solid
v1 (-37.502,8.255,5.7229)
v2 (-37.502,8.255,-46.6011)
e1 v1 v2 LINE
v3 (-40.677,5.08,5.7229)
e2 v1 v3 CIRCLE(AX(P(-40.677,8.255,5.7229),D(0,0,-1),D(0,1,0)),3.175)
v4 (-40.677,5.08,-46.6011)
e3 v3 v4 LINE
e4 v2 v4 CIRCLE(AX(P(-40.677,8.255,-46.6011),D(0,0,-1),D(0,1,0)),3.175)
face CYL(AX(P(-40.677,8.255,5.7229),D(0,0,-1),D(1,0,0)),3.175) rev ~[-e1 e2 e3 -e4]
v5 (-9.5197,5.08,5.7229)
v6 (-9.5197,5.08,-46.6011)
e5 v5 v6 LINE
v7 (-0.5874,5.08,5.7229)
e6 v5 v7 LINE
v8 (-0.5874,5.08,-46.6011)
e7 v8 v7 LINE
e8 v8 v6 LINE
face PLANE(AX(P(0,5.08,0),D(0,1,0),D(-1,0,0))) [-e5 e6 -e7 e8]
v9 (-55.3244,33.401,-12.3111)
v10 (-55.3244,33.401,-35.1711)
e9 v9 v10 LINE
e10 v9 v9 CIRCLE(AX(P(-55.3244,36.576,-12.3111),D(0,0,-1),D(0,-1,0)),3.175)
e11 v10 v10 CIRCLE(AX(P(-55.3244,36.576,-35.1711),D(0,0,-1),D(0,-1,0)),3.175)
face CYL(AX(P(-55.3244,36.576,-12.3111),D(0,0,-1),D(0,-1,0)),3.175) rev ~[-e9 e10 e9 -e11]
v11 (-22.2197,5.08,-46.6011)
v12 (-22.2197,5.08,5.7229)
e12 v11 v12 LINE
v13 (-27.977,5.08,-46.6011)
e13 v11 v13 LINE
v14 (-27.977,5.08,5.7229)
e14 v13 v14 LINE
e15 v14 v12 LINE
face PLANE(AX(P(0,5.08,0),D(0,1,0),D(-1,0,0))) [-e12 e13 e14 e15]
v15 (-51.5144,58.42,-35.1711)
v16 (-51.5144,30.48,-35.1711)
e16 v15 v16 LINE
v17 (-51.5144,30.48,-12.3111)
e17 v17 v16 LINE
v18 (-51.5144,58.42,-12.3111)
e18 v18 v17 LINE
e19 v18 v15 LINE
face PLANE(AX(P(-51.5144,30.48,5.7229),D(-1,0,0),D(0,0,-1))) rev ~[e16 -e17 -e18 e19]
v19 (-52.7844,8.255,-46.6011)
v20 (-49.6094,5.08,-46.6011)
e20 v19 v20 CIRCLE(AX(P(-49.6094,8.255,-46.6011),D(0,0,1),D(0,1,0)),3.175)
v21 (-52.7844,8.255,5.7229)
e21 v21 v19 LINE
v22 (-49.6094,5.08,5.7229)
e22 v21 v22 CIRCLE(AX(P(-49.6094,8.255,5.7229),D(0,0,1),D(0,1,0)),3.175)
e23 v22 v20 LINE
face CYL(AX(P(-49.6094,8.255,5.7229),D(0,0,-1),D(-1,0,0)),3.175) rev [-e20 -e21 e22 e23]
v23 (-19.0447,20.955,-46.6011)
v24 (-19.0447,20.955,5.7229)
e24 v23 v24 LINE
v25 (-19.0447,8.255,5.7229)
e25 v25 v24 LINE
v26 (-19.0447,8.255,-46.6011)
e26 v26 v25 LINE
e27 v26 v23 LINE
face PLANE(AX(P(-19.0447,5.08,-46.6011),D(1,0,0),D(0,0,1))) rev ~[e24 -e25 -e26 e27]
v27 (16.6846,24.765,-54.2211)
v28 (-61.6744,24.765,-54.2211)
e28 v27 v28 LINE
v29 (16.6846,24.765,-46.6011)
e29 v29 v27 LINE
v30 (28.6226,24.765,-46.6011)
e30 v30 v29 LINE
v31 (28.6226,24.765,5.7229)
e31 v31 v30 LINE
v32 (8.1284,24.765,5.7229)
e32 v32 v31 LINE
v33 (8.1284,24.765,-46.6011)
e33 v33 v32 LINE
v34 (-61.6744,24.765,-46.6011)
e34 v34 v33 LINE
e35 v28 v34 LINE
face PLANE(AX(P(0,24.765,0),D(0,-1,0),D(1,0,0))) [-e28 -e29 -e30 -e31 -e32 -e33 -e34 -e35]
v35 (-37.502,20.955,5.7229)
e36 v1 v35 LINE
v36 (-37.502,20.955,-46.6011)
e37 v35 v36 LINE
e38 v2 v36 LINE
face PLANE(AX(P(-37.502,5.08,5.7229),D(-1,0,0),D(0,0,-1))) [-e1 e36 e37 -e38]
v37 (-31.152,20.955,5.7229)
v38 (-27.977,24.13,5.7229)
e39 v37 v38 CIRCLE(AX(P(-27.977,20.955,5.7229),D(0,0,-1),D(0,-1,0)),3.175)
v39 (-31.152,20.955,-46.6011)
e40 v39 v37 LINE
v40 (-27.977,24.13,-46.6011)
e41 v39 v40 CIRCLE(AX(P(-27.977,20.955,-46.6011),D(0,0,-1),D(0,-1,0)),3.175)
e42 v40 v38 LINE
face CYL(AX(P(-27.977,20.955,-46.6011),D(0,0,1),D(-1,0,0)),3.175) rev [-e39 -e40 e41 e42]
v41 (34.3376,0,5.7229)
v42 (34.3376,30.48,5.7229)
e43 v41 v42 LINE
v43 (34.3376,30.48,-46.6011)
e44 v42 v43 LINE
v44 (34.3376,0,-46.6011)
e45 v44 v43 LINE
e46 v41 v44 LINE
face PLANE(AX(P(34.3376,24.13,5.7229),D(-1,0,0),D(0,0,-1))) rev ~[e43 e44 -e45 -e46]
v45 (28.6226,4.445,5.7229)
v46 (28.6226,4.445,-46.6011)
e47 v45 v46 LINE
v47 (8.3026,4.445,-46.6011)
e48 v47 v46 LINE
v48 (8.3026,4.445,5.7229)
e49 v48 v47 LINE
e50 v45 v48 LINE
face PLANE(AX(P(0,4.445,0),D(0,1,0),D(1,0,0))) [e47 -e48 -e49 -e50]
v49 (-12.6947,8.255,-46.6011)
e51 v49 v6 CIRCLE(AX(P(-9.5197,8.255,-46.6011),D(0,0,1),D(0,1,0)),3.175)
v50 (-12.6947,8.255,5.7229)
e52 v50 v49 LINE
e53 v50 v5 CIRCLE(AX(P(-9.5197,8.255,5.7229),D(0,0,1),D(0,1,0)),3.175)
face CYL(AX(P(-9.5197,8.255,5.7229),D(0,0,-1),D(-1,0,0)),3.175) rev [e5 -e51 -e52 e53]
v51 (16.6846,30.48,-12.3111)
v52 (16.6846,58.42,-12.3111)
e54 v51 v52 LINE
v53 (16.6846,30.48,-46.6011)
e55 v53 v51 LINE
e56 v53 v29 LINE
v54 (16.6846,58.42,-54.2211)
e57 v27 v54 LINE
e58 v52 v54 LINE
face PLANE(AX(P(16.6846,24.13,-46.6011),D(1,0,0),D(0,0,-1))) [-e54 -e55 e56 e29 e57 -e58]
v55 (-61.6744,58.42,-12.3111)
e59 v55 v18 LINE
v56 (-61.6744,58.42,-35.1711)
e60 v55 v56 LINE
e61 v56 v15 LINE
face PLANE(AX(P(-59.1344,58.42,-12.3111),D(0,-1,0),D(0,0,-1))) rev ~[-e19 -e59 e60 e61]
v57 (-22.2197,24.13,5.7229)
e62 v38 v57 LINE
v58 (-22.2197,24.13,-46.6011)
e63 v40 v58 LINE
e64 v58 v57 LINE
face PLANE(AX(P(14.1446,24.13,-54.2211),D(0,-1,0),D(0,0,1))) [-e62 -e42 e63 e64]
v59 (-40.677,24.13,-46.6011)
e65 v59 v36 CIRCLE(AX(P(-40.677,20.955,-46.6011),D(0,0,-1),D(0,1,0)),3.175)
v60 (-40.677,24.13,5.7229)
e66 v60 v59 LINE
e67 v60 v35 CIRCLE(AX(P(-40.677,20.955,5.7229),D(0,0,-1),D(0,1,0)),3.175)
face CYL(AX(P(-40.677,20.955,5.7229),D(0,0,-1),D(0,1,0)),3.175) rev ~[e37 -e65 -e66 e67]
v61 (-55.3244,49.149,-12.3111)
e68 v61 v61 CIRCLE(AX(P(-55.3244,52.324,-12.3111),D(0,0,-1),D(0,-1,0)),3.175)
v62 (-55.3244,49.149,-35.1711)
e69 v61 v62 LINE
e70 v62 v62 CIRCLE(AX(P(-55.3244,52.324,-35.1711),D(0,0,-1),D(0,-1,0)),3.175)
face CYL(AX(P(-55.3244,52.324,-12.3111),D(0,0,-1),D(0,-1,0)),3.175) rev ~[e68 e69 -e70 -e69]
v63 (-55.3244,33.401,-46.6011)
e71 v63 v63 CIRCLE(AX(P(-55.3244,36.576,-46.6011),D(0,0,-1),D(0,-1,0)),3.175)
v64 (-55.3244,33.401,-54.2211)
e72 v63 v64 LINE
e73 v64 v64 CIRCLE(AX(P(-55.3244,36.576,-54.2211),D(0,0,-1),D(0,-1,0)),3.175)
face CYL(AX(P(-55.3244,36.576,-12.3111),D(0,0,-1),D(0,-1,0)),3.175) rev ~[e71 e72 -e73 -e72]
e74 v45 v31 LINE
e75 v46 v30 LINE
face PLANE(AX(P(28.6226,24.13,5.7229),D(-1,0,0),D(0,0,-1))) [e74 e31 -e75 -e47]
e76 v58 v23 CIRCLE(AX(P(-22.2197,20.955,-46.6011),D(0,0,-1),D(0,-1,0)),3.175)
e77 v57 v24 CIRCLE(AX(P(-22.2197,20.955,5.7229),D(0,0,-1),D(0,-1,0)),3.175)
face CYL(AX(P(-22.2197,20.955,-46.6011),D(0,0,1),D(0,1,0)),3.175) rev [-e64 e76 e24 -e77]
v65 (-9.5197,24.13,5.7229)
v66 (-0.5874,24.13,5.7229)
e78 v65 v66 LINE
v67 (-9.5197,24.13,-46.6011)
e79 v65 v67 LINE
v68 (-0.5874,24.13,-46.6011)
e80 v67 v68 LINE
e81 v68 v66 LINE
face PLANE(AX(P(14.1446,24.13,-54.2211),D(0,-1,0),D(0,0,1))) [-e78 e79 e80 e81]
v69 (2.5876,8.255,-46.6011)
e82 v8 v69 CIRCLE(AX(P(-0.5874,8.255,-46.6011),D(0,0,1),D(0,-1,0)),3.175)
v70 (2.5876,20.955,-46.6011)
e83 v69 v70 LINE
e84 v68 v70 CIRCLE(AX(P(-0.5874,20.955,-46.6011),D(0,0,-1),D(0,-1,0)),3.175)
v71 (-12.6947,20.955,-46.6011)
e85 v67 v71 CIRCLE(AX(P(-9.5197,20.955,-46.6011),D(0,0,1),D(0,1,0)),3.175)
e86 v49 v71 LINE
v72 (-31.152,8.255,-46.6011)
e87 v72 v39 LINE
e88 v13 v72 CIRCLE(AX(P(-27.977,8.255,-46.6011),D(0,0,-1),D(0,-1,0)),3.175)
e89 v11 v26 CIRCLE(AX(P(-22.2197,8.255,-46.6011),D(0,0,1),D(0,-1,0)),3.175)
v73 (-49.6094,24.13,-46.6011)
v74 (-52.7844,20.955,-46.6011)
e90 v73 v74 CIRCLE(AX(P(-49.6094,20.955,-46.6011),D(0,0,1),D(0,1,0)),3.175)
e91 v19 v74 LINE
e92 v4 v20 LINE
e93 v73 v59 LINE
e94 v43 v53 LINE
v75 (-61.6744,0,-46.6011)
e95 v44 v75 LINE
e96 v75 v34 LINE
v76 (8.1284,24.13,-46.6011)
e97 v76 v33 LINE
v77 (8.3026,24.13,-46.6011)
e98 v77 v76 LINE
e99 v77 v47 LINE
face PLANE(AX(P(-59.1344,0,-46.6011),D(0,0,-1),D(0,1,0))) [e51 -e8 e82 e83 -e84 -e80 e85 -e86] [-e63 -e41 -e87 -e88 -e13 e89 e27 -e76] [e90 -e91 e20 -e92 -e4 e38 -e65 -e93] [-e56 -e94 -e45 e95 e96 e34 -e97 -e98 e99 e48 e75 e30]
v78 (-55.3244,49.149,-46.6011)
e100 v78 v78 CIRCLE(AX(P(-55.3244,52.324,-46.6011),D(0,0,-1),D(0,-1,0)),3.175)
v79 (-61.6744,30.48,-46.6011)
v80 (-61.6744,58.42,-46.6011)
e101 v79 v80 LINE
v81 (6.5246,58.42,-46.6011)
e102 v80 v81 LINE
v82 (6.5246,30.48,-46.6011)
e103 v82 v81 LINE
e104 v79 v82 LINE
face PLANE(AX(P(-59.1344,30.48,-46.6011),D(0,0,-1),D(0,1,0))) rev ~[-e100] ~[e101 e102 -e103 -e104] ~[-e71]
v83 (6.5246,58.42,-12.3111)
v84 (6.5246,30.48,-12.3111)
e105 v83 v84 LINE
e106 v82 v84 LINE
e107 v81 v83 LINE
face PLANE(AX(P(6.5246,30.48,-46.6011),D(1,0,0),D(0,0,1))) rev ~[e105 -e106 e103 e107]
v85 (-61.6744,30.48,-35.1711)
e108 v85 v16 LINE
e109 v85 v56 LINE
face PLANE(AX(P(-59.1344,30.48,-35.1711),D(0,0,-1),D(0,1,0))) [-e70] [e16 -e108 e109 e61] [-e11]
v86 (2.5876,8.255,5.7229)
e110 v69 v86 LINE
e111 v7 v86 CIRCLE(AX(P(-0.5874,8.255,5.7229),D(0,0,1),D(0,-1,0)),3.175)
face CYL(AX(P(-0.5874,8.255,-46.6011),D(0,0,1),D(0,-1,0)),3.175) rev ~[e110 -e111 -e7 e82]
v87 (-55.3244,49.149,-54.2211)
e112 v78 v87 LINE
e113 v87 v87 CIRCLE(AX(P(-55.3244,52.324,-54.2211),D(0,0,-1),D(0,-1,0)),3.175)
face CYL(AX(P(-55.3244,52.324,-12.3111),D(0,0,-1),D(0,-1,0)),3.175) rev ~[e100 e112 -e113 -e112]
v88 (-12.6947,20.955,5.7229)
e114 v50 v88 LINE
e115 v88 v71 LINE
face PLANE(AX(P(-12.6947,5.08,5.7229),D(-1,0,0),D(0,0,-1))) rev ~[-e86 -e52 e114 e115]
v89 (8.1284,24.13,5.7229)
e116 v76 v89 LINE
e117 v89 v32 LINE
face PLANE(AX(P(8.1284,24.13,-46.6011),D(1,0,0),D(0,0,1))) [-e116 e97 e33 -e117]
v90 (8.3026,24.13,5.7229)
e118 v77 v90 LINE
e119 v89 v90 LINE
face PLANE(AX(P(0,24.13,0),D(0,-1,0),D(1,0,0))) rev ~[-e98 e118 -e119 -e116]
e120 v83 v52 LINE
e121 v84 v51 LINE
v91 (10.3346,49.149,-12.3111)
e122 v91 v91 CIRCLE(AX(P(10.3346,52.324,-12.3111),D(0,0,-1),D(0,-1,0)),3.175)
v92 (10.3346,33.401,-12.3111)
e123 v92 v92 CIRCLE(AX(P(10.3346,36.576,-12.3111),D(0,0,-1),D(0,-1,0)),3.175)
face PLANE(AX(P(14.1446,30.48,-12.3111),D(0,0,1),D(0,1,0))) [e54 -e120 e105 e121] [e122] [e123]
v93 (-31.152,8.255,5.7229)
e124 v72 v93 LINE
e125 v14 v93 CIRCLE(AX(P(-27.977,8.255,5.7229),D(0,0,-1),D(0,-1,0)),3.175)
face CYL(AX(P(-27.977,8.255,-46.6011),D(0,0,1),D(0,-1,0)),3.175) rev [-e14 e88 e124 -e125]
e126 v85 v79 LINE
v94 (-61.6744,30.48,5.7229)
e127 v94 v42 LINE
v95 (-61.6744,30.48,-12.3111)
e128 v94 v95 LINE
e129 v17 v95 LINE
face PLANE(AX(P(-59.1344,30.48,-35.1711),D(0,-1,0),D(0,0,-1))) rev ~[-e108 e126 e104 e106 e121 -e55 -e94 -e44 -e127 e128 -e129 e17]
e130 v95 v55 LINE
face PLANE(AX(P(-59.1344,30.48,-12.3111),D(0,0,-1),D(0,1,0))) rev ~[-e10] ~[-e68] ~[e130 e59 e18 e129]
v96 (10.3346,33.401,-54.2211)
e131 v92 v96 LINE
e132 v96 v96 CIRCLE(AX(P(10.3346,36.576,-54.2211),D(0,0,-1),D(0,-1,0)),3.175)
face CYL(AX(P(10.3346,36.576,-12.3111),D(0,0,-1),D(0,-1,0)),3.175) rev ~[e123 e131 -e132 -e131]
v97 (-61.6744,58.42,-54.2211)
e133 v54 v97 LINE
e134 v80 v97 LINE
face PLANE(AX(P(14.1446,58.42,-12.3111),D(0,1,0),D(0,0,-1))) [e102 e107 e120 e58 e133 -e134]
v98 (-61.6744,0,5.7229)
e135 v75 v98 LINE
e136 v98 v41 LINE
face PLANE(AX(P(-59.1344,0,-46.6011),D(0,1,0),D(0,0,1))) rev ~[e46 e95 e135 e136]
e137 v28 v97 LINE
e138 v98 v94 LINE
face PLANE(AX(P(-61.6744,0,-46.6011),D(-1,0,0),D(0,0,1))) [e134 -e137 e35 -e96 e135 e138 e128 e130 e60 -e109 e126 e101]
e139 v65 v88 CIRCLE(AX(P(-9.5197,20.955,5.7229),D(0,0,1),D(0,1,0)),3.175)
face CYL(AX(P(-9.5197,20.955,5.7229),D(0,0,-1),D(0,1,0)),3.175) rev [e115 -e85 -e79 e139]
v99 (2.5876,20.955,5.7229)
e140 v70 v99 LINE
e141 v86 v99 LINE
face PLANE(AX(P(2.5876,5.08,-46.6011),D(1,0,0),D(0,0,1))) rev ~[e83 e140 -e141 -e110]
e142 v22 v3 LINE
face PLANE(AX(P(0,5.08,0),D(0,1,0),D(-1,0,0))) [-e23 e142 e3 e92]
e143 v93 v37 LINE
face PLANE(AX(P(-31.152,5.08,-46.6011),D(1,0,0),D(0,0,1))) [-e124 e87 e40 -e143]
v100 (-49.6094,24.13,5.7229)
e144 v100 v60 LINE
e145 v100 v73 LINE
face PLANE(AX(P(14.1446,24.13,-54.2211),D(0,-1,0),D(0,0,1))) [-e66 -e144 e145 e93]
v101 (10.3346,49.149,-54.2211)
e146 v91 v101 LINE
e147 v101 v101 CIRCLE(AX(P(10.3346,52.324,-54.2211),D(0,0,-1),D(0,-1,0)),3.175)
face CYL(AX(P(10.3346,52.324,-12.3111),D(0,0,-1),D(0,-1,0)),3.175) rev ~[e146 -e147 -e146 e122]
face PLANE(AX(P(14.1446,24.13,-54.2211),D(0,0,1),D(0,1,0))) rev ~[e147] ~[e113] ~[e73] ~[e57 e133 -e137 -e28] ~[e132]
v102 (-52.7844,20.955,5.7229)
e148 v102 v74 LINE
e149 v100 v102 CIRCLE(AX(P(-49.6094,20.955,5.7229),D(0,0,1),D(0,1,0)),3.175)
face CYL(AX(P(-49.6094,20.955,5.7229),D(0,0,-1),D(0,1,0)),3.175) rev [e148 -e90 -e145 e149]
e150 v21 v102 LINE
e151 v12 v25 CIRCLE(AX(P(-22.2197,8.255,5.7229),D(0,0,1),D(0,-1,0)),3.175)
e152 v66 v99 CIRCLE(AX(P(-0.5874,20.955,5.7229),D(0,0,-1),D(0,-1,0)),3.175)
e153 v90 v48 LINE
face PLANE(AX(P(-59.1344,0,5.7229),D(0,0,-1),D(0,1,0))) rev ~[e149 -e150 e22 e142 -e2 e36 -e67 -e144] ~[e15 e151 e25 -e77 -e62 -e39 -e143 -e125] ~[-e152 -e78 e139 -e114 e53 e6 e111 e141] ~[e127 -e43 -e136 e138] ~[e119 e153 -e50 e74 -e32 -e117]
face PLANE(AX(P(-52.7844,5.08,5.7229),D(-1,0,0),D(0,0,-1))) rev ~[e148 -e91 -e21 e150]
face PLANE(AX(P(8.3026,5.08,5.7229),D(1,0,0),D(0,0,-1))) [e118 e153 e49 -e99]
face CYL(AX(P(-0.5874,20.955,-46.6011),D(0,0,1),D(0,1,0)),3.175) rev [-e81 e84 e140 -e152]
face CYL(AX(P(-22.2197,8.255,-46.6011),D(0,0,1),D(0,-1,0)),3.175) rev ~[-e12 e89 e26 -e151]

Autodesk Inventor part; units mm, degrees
ref_plane "YZ Plane" through (0, 0, 0) normal (1, 0, 0) x (0, 1, 0)
ref_plane "XZ Plane" through (0, 0, 0) normal (0, 1, 0) x (-1, 0, 0)
ref_plane "XY Plane" through (0, 0, 0) normal (0, 0, 1) x (1, 0, 0)
sketch "Sketch1" plane through (0, 0, 0) normal (0, 1, 0) x (-1, 0, 0)
  line L0 (59.1344, 5.7229) -> (-34.3376, 5.7229)
  line L1 (-34.3376, 5.7229) -> (-34.3376, -46.6011)
  line L2 (-34.3376, -46.6011) -> (59.1344, -46.6011)
  line L3 (59.1344, -46.6011) -> (59.1344, 5.7229)
  point P0 (0, 0)
  dimension "d0" = 52.324
  dimension "d1" = 93.472
extrude "Extrusion1" add sketch "Sketch1" along normal blind 5.08
sketch "Sketch2" plane through (0, 5.08, 0) normal (0, 1, 0) x (1, 0, 0)
  line L0 (34.3376, -5.7229) -> (34.3376, 46.6011) projected
  line L1 (-59.1344, -5.7229) -> (34.3376, -5.7229) projected
  line L2 (34.3376, 46.6011) -> (27.9876, 46.6011)
  line L3 (27.9876, 46.6011) -> (27.9876, -5.7229)
  line L4 (27.9876, -5.7229) -> (34.3376, -5.7229)
  line L5 (34.3376, -5.7229) -> (34.3376, 46.6011)
  line L6 (8.9376, 46.6011) -> (2.5876, 46.6011)
  line L7 (2.5876, 46.6011) -> (2.5876, -5.7229)
  line L8 (2.5876, -5.7229) -> (8.9376, -5.7229)
  line L9 (8.9376, -5.7229) -> (8.9376, 46.6011)
  line L10 (34.3376, 46.6011) -> (-59.1344, 46.6011) projected
  line L11 (-59.1344, 46.6011) -> (-59.1344, -5.7229) projected
  line L12 (-52.7844, 46.6011) -> (-59.1344, 46.6011)
  line L13 (-59.1344, 46.6011) -> (-59.1344, -5.7229)
  line L14 (-59.1344, -5.7229) -> (-52.7844, -5.7229)
  line L15 (-52.7844, -5.7229) -> (-52.7844, 46.6011)
  point P0 (0, 0)
  dimension "d4" = 6.35
  dimension "d5" = 19.05
  dimension "d6" = 6.35
  dimension "d7" = 6.35
extrude "Extrusion2" add sketch "Sketch2" along normal blind 19.05 contours L1 L3 L2 L0 | L1 L7 L6 L9 | L1 L11 L10 L15
sketch "Sketch3" plane through (0, 24.13, 0) normal (0, 1, 0) x (1, 0, 0)
  line L0 (34.3376, -5.7229) -> (34.3376, 46.6011) projected
  line L1 (-59.1344, 46.6011) -> (-59.1344, -5.7229) projected
  line L2 (34.3376, 46.6011) -> (-59.1344, 46.6011)
  line L3 (-59.1344, 46.6011) -> (-59.1344, -5.7229)
  line L4 (-59.1344, -5.7229) -> (34.3376, -5.7229)
  line L5 (34.3376, -5.7229) -> (34.3376, 46.6011)
  point P0 (0, 0)
extrude "Extrusion3" add sketch "Sketch3" along normal blind 6.35
sketch "Sketch4" plane through (0, 30.48, 0) normal (0, 1, 0) x (1, 0, 0)
  point P0 (0, 0)
sketch "Sketch5" plane through (0, 30.48, 0) normal (0, 1, 0) x (1, 0, 0)
  line L0 (-59.1344, -5.7229) -> (34.3376, -5.7229) projected
  line L1 (-59.1344, -5.7229) -> (-51.5144, -5.7229)
  line L2 (-51.5144, -5.7229) -> (-51.5144, 46.6011)
  line L3 (-51.5144, 46.6011) -> (-59.1344, 46.6011)
  line L4 (-59.1344, 46.6011) -> (-59.1344, -5.7229)
  line L5 (-52.7844, -5.7229) -> (2.5876, -5.7229) projected
  line L6 (6.5246, -5.7229) -> (14.1446, -5.7229)
  line L7 (14.1446, -5.7229) -> (14.1446, 46.6011)
  line L8 (14.1446, 46.6011) -> (6.5246, 46.6011)
  line L9 (6.5246, 46.6011) -> (6.5246, -5.7229)
  point P0 (0, 0)
  dimension "d12" = 7.62
  dimension "d13" = 7.62
  dimension "d14" = 58.039
extrude "Extrusion4" add sketch "Sketch5" along normal blind 27.94
sketch "Sketch6" plane through (0, 58.42, 0) normal (0, 1, 0) x (1, 0, 0)
  point P0 (0, 0)
sketch "Sketch7" plane through (0, 58.42, 0) normal (0, 1, 0) x (1, 0, 0)
  line L0 (-59.1344, -5.7229) -> (-51.5144, -5.7229) projected
  line L1 (-51.5144, -5.7229) -> (-51.5144, 46.6011) projected
  line L2 (-59.1344, -5.7229) -> (-51.5144, -5.7229)
  line L3 (-51.5144, -5.7229) -> (-51.5144, 12.3111)
  line L4 (-51.5144, 12.3111) -> (-59.1344, 12.3111)
  line L5 (-59.1344, 12.3111) -> (-59.1344, -5.7229)
  line L6 (6.5246, -5.7229) -> (6.5246, 46.6011) projected
  line L7 (14.1446, -5.7229) -> (14.1446, 46.6011) projected
  line L8 (6.5246, -5.7229) -> (14.1446, -5.7229)
  line L9 (14.1446, -5.7229) -> (14.1446, 12.3111)
  line L10 (14.1446, 12.3111) -> (6.5246, 12.3111)
  line L11 (6.5246, 12.3111) -> (6.5246, -5.7229)
  point P0 (0, 0)
  dimension "d17" = 18.034
extrude "Extrusion5" cut sketch "Sketch7" against normal blind 27.94
sketch "Sketch8" plane through (0, 58.42, 0) normal (0, 1, 0) x (1, 0, 0)
  line L0 (34.3376, 46.6011) -> (-59.1344, 46.6011) projected
  line L1 (-51.5144, 46.6011) -> (-51.5144, 12.3111) projected
  line L2 (-59.1344, 46.6011) -> (-51.5144, 46.6011)
  line L3 (-51.5144, 46.6011) -> (-51.5144, 35.1711)
  line L4 (-51.5144, 35.1711) -> (-59.1344, 35.1711)
  line L5 (-59.1344, 35.1711) -> (-59.1344, 46.6011)
  point P0 (0, 0)
  dimension "d20" = 11.43
extrude "Extrusion6" cut sketch "Sketch8" against normal blind 27.94
sketch "Sketch9" plane through (34.3376, 0, -46.6011) normal (0, 0, -1) x (-1, 0, 0)
  line L0 (93.472, 30.48) -> (0, 30.48) projected
  line L1 (27.813, 30.48) -> (20.193, 30.48) projected
  line L2 (93.472, 30.48) -> (20.193, 30.48)
  line L3 (20.193, 30.48) -> (20.193, 24.13)
  line L4 (6.35, 24.13) -> (25.4, 24.13) projected
  line L5 (31.75, 24.13) -> (87.122, 24.13) projected
  line L6 (25.4, 24.13) -> (31.75, 24.13)
  line L7 (87.122, 5.08) -> (87.122, 24.13) projected
  line L8 (31.75, 24.13) -> (87.122, 24.13)
  line L9 (93.472, 0) -> (93.472, 30.48) projected
  line L10 (87.122, 24.13) -> (93.472, 24.13)
  point P0 (34.3376, 0)
extrude "Extrusion7" add sketch "Sketch9" along normal blind 7.62
sketch "Sketch10" plane through (0, 30.48, 0) normal (0, 1, 0) x (1, 0, 0)
  line L0 (14.1446, 46.6011) -> (14.1446, 54.2211) projected
  line L1 (-59.1344, 54.2211) -> (14.1446, 54.2211) projected
  line L2 (14.1446, 46.6011) -> (-59.1344, 46.6011)
  line L3 (-59.1344, 46.6011) -> (-59.1344, 54.2211)
  line L4 (-59.1344, 54.2211) -> (14.1446, 54.2211)
  line L5 (14.1446, 54.2211) -> (14.1446, 46.6011)
  point P0 (0, 0)
extrude "Extrusion8" add sketch "Sketch10" along normal blind 27.94
fillet "Fillet1" radius 3.175 4 edges at (2.5876, 5.08, -20.4391) (-52.7844, 5.08, -20.4391) (2.5876, 24.13, -20.4391) (-52.7844, 24.13, -20.4391)
sketch "Sketch11" plane through (-59.1344, 58.42, -12.3111) normal (0, 0, 1) x (1, 0, 0)
  point P0 (59.1344, -58.42)
sketch "Sketch12" plane through (-59.1344, 58.42, -12.3111) normal (0, 0, 1) x (1, 0, 0)
  circle A0 centre (3.81, -6.096) radius 2.54
  line L0 (0, 0) -> (7.62, 0) projected
  line L1 (0, -27.94) -> (0, 0) projected
  circle A1 centre (3.81, -21.844) radius 2.54
  line L2 (0, -27.94) -> (7.62, -27.94) projected
  circle A2 centre (69.469, -6.096) radius 2.54
  line L3 (65.659, 0) -> (73.279, 0) projected
  line L4 (73.279, 0) -> (73.279, -27.94) projected
  circle A3 centre (69.469, -21.844) radius 2.54
  line L5 (0, -27.94) -> (93.472, -27.94) projected
  point P0 (59.1344, -58.42)
  dimension "d29" = 6.096
  dimension "d30" = 3.81
  dimension "d31" = 5.08
  dimension "d32" = 5.08
  dimension "d33" = 3.81
  dimension "d34" = 6.096
  dimension "d35" = 5.08
  dimension "d36" = 6.096
  dimension "d37" = 3.81
  dimension "d38" = 5.08
  dimension "d39" = 3.81
  dimension "d40" = 6.096
hole "Hole1" at (-55.3244, 52.324, -12.3111) at (-55.3244, 36.576, -12.3111) at (10.3346, 52.324, -12.3111) at (10.3346, 36.576, -12.3111) direction (0, 0, -1) diameter 6.35 end through all
sketch "Sketch13" plane through (-59.1344, 0, -46.6011) normal (-1, 0, 0) x (0, 0, 1)
  line L0 (-7.62, 24.13) -> (-7.62, 58.42) projected
  line L1 (-7.62, 58.42) -> (-7.62, 24.13)
  line L2 (0, 24.13) -> (-7.62, 24.13) projected
  line L3 (-7.62, 24.13) -> (0, 24.13)
  line L4 (0, 0) -> (0, 24.13) projected
  line L5 (0, 24.13) -> (0, 0)
  line L6 (0, 0) -> (52.324, 0) projected
  line L7 (0, 0) -> (52.324, 0)
  line L8 (52.324, 0) -> (52.324, 30.48) projected
  line L9 (52.324, 0) -> (52.324, 30.48)
  line L10 (34.29, 30.48) -> (34.29, 58.42) projected
  line L11 (52.324, 30.48) -> (34.29, 30.48)
  line L12 (34.29, 30.48) -> (34.29, 58.42)
  line L13 (34.29, 58.42) -> (11.43, 58.42) projected
  line L14 (34.29, 58.42) -> (11.43, 58.42)
  line L15 (11.43, 30.48) -> (11.43, 58.42) projected
  line L16 (11.43, 58.42) -> (11.43, 30.48)
  line L17 (11.43, 30.48) -> (0, 30.48) projected
  line L18 (11.43, 30.48) -> (0, 30.48)
  line L19 (0, 30.48) -> (0, 58.42) projected
  line L20 (0, 30.48) -> (0, 58.42)
  line L21 (34.29, 58.42) -> (-7.62, 58.42) projected
  line L22 (0, 58.42) -> (-7.62, 58.42)
  point P0 (46.6011, 0)
extrude "Extrusion9" add sketch "Sketch13" along normal blind 2.54 contours L0 L21 L19 L17 L15 L13 L10 L11 L8 L6 L4 L2
sketch "Sketch14" plane through (14.1446, 24.13, -46.6011) normal (1, 0, 0) x (0, 0, -1)
  line L0 (-34.29, 34.29) -> (7.62, 34.29) projected
  line L1 (7.62, 0) -> (7.62, 34.29) projected
  line L2 (-34.29, 34.29) -> (7.62, 34.29)
  line L3 (7.62, 34.29) -> (7.62, 0)
  line L4 (7.62, 0) -> (-34.29, 0)
  line L5 (-34.29, 0) -> (-34.29, 34.29)
  line L6 (0, 0) -> (7.62, 0) projected
  line L7 (0, 6.35) -> (-34.29, 6.35) projected
  line L8 (0, 0) -> (-34.29, 0)
  line L9 (-34.29, 0) -> (-34.29, 6.35)
  line L10 (-34.29, 6.35) -> (0, 6.35)
  line L11 (0, 6.35) -> (0, 0)
  point P0 (-46.6011, -24.13)
extrude "Extrusion10" add sketch "Sketch14" along normal blind 2.54 contours L0 L1 L4 L11 L7 L5
sketch "Sketch15" plane through (0, 5.08, 0) normal (0, 1, 0) x (1, 0, 0)
  point P0 (0, 0)
sketch "Sketch16" plane through (0, 5.08, 0) normal (0, 1, 0) x (1, 0, 0)
  line L0 (34.3376, 46.6011) -> (-61.6744, 46.6011) projected
  line L1 (-61.6744, -5.7229) -> (34.3376, -5.7229) projected
  line L2 (-37.502, 46.6011) -> (-31.152, 46.6011)
  line L3 (-31.152, 46.6011) -> (-31.152, -5.7229)
  line L4 (-31.152, -5.7229) -> (-37.502, -5.7229)
  line L5 (-37.502, -5.7229) -> (-37.502, 46.6011)
  line L6 (-19.0447, -5.7229) -> (-12.6947, -5.7229)
  line L7 (-12.6947, -5.7229) -> (-12.6947, 46.6011)
  line L8 (-12.6947, 46.6011) -> (-19.0447, 46.6011)
  line L9 (-19.0447, 46.6011) -> (-19.0447, -5.7229)
  line L10 (-49.6094, -5.7229) -> (-49.6094, 46.6011) projected
  point P0 (0, 0)
  dimension "d52" = 6.35
  dimension "d53" = 6.35
  dimension "d54" = 12.1073
  dimension "d55" = 12.1073
extrude "Extrusion11" add sketch "Sketch16" along normal blind 25.4 contours L7 L1 L9 L0 | L3 L1 L5 L0
fillet "Fillet2" radius 3.175 1 edges at (-37.502, 5.08, -20.4391)
fillet "Fillet3" radius 3.175 1 edges at (-19.0447, 5.08, -20.4391)
fillet "Fillet4" radius 3.175 1 edges at (-31.152, 24.13, -20.4391)
fillet "Fillet5" radius 3.175 1 edges at (-12.6947, 24.13, -20.4391)
fillet "Fillet6" radius 3.175 1 edges at (-12.6947, 5.08, -20.4391)
fillet "Fillet7" radius 3.175 1 edges at (-31.152, 5.08, -20.4391)
fillet "Fillet8" radius 3.175 1 edges at (-37.502, 24.13, -20.4391)
fillet "Fillet9" radius 3.175 1 edges at (-19.0447, 24.13, -20.4391)
sketch "Sketch17" plane through (27.9876, 5.08, -46.6011) normal (-1, 0, 0) x (0, 0, 1)
  line L0 (0, 19.05) -> (-7.62, 19.05) projected
  line L1 (52.324, 0) -> (0, 0) projected
  line L2 (0, 19.05) -> (52.324, 19.05)
  line L3 (52.324, 19.05) -> (52.324, 0)
  line L4 (52.324, 0) -> (0, 0)
  line L5 (0, 0) -> (0, 19.05)
  point P0 (46.6011, -5.08)
extrude "Extrusion12" cut sketch "Sketch17" against normal blind 0.635
sketch "Sketch18" plane through (8.9376, 5.08, 5.7229) normal (1, 0, 0) x (0, 0, -1)
  line L0 (52.324, 15.875) -> (52.324, 19.05) projected
  line L1 (0, 0) -> (52.324, 0) projected
  line L2 (52.324, 19.05) -> (0, 19.05)
  line L3 (0, 19.05) -> (0, 0)
  line L4 (0, 0) -> (52.324, 0)
  line L5 (52.324, 0) -> (52.324, 19.05)
  point P0 (5.7229, -5.08)
extrude "Extrusion13" cut sketch "Sketch18" against normal blind 0.635
sketch "Sketch19" plane through (0, 24.13, 0) normal (0, -1, 0) x (1, 0, 0)
  line L0 (28.6226, 5.7229) -> (28.6226, -46.6011) projected
  line L1 (-61.6744, 5.7229) -> (34.3376, 5.7229) projected
  line L2 (28.6226, -46.6011) -> (8.1284, -46.6011)
  line L3 (8.1284, -46.6011) -> (8.1284, 5.7229)
  line L4 (8.1284, 5.7229) -> (28.6226, 5.7229)
  line L5 (28.6226, 5.7229) -> (28.6226, -46.6011)
  point P0 (0, 0)
extrude "Extrusion14" cut sketch "Sketch19" against normal blind 0.635
sketch "Sketch20" plane through (0, 5.08, 0) normal (0, 1, 0) x (1, 0, 0)
  line L0 (28.6226, -5.7229) -> (28.6226, 46.6011) projected
  line L1 (16.6846, 46.6011) -> (8.3026, 46.6011) projected
  line L2 (28.6226, -5.7229) -> (8.3026, -5.7229)
  line L3 (8.3026, -5.7229) -> (8.3026, 46.6011)
  line L4 (8.3026, 46.6011) -> (28.6226, 46.6011)
  line L5 (28.6226, 46.6011) -> (28.6226, -5.7229)
  point P0 (0, 0)
extrude "Extrusion15" cut sketch "Sketch20" against normal blind 0.635
sketch "Sketch21" plane through (0, 24.13, 0) normal (0, -1, 0) x (1, 0, 0)
  line L0 (16.6846, -46.6011) -> (16.6846, -54.2211) projected
  line L1 (-49.6094, -46.6011) -> (-61.6744, -46.6011) projected
  line L2 (16.6846, -54.2211) -> (-61.6744, -54.2211)
  line L3 (-61.6744, -54.2211) -> (-61.6744, -46.6011)
  line L4 (-61.6744, -46.6011) -> (16.6846, -46.6011)
  line L5 (16.6846, -46.6011) -> (16.6846, -54.2211)
  point P0 (0, 0)
extrude "Extrusion16" cut sketch "Sketch21" against normal blind 0.635
properties part number "Nov 21 holder for arm server (resized hole)"
